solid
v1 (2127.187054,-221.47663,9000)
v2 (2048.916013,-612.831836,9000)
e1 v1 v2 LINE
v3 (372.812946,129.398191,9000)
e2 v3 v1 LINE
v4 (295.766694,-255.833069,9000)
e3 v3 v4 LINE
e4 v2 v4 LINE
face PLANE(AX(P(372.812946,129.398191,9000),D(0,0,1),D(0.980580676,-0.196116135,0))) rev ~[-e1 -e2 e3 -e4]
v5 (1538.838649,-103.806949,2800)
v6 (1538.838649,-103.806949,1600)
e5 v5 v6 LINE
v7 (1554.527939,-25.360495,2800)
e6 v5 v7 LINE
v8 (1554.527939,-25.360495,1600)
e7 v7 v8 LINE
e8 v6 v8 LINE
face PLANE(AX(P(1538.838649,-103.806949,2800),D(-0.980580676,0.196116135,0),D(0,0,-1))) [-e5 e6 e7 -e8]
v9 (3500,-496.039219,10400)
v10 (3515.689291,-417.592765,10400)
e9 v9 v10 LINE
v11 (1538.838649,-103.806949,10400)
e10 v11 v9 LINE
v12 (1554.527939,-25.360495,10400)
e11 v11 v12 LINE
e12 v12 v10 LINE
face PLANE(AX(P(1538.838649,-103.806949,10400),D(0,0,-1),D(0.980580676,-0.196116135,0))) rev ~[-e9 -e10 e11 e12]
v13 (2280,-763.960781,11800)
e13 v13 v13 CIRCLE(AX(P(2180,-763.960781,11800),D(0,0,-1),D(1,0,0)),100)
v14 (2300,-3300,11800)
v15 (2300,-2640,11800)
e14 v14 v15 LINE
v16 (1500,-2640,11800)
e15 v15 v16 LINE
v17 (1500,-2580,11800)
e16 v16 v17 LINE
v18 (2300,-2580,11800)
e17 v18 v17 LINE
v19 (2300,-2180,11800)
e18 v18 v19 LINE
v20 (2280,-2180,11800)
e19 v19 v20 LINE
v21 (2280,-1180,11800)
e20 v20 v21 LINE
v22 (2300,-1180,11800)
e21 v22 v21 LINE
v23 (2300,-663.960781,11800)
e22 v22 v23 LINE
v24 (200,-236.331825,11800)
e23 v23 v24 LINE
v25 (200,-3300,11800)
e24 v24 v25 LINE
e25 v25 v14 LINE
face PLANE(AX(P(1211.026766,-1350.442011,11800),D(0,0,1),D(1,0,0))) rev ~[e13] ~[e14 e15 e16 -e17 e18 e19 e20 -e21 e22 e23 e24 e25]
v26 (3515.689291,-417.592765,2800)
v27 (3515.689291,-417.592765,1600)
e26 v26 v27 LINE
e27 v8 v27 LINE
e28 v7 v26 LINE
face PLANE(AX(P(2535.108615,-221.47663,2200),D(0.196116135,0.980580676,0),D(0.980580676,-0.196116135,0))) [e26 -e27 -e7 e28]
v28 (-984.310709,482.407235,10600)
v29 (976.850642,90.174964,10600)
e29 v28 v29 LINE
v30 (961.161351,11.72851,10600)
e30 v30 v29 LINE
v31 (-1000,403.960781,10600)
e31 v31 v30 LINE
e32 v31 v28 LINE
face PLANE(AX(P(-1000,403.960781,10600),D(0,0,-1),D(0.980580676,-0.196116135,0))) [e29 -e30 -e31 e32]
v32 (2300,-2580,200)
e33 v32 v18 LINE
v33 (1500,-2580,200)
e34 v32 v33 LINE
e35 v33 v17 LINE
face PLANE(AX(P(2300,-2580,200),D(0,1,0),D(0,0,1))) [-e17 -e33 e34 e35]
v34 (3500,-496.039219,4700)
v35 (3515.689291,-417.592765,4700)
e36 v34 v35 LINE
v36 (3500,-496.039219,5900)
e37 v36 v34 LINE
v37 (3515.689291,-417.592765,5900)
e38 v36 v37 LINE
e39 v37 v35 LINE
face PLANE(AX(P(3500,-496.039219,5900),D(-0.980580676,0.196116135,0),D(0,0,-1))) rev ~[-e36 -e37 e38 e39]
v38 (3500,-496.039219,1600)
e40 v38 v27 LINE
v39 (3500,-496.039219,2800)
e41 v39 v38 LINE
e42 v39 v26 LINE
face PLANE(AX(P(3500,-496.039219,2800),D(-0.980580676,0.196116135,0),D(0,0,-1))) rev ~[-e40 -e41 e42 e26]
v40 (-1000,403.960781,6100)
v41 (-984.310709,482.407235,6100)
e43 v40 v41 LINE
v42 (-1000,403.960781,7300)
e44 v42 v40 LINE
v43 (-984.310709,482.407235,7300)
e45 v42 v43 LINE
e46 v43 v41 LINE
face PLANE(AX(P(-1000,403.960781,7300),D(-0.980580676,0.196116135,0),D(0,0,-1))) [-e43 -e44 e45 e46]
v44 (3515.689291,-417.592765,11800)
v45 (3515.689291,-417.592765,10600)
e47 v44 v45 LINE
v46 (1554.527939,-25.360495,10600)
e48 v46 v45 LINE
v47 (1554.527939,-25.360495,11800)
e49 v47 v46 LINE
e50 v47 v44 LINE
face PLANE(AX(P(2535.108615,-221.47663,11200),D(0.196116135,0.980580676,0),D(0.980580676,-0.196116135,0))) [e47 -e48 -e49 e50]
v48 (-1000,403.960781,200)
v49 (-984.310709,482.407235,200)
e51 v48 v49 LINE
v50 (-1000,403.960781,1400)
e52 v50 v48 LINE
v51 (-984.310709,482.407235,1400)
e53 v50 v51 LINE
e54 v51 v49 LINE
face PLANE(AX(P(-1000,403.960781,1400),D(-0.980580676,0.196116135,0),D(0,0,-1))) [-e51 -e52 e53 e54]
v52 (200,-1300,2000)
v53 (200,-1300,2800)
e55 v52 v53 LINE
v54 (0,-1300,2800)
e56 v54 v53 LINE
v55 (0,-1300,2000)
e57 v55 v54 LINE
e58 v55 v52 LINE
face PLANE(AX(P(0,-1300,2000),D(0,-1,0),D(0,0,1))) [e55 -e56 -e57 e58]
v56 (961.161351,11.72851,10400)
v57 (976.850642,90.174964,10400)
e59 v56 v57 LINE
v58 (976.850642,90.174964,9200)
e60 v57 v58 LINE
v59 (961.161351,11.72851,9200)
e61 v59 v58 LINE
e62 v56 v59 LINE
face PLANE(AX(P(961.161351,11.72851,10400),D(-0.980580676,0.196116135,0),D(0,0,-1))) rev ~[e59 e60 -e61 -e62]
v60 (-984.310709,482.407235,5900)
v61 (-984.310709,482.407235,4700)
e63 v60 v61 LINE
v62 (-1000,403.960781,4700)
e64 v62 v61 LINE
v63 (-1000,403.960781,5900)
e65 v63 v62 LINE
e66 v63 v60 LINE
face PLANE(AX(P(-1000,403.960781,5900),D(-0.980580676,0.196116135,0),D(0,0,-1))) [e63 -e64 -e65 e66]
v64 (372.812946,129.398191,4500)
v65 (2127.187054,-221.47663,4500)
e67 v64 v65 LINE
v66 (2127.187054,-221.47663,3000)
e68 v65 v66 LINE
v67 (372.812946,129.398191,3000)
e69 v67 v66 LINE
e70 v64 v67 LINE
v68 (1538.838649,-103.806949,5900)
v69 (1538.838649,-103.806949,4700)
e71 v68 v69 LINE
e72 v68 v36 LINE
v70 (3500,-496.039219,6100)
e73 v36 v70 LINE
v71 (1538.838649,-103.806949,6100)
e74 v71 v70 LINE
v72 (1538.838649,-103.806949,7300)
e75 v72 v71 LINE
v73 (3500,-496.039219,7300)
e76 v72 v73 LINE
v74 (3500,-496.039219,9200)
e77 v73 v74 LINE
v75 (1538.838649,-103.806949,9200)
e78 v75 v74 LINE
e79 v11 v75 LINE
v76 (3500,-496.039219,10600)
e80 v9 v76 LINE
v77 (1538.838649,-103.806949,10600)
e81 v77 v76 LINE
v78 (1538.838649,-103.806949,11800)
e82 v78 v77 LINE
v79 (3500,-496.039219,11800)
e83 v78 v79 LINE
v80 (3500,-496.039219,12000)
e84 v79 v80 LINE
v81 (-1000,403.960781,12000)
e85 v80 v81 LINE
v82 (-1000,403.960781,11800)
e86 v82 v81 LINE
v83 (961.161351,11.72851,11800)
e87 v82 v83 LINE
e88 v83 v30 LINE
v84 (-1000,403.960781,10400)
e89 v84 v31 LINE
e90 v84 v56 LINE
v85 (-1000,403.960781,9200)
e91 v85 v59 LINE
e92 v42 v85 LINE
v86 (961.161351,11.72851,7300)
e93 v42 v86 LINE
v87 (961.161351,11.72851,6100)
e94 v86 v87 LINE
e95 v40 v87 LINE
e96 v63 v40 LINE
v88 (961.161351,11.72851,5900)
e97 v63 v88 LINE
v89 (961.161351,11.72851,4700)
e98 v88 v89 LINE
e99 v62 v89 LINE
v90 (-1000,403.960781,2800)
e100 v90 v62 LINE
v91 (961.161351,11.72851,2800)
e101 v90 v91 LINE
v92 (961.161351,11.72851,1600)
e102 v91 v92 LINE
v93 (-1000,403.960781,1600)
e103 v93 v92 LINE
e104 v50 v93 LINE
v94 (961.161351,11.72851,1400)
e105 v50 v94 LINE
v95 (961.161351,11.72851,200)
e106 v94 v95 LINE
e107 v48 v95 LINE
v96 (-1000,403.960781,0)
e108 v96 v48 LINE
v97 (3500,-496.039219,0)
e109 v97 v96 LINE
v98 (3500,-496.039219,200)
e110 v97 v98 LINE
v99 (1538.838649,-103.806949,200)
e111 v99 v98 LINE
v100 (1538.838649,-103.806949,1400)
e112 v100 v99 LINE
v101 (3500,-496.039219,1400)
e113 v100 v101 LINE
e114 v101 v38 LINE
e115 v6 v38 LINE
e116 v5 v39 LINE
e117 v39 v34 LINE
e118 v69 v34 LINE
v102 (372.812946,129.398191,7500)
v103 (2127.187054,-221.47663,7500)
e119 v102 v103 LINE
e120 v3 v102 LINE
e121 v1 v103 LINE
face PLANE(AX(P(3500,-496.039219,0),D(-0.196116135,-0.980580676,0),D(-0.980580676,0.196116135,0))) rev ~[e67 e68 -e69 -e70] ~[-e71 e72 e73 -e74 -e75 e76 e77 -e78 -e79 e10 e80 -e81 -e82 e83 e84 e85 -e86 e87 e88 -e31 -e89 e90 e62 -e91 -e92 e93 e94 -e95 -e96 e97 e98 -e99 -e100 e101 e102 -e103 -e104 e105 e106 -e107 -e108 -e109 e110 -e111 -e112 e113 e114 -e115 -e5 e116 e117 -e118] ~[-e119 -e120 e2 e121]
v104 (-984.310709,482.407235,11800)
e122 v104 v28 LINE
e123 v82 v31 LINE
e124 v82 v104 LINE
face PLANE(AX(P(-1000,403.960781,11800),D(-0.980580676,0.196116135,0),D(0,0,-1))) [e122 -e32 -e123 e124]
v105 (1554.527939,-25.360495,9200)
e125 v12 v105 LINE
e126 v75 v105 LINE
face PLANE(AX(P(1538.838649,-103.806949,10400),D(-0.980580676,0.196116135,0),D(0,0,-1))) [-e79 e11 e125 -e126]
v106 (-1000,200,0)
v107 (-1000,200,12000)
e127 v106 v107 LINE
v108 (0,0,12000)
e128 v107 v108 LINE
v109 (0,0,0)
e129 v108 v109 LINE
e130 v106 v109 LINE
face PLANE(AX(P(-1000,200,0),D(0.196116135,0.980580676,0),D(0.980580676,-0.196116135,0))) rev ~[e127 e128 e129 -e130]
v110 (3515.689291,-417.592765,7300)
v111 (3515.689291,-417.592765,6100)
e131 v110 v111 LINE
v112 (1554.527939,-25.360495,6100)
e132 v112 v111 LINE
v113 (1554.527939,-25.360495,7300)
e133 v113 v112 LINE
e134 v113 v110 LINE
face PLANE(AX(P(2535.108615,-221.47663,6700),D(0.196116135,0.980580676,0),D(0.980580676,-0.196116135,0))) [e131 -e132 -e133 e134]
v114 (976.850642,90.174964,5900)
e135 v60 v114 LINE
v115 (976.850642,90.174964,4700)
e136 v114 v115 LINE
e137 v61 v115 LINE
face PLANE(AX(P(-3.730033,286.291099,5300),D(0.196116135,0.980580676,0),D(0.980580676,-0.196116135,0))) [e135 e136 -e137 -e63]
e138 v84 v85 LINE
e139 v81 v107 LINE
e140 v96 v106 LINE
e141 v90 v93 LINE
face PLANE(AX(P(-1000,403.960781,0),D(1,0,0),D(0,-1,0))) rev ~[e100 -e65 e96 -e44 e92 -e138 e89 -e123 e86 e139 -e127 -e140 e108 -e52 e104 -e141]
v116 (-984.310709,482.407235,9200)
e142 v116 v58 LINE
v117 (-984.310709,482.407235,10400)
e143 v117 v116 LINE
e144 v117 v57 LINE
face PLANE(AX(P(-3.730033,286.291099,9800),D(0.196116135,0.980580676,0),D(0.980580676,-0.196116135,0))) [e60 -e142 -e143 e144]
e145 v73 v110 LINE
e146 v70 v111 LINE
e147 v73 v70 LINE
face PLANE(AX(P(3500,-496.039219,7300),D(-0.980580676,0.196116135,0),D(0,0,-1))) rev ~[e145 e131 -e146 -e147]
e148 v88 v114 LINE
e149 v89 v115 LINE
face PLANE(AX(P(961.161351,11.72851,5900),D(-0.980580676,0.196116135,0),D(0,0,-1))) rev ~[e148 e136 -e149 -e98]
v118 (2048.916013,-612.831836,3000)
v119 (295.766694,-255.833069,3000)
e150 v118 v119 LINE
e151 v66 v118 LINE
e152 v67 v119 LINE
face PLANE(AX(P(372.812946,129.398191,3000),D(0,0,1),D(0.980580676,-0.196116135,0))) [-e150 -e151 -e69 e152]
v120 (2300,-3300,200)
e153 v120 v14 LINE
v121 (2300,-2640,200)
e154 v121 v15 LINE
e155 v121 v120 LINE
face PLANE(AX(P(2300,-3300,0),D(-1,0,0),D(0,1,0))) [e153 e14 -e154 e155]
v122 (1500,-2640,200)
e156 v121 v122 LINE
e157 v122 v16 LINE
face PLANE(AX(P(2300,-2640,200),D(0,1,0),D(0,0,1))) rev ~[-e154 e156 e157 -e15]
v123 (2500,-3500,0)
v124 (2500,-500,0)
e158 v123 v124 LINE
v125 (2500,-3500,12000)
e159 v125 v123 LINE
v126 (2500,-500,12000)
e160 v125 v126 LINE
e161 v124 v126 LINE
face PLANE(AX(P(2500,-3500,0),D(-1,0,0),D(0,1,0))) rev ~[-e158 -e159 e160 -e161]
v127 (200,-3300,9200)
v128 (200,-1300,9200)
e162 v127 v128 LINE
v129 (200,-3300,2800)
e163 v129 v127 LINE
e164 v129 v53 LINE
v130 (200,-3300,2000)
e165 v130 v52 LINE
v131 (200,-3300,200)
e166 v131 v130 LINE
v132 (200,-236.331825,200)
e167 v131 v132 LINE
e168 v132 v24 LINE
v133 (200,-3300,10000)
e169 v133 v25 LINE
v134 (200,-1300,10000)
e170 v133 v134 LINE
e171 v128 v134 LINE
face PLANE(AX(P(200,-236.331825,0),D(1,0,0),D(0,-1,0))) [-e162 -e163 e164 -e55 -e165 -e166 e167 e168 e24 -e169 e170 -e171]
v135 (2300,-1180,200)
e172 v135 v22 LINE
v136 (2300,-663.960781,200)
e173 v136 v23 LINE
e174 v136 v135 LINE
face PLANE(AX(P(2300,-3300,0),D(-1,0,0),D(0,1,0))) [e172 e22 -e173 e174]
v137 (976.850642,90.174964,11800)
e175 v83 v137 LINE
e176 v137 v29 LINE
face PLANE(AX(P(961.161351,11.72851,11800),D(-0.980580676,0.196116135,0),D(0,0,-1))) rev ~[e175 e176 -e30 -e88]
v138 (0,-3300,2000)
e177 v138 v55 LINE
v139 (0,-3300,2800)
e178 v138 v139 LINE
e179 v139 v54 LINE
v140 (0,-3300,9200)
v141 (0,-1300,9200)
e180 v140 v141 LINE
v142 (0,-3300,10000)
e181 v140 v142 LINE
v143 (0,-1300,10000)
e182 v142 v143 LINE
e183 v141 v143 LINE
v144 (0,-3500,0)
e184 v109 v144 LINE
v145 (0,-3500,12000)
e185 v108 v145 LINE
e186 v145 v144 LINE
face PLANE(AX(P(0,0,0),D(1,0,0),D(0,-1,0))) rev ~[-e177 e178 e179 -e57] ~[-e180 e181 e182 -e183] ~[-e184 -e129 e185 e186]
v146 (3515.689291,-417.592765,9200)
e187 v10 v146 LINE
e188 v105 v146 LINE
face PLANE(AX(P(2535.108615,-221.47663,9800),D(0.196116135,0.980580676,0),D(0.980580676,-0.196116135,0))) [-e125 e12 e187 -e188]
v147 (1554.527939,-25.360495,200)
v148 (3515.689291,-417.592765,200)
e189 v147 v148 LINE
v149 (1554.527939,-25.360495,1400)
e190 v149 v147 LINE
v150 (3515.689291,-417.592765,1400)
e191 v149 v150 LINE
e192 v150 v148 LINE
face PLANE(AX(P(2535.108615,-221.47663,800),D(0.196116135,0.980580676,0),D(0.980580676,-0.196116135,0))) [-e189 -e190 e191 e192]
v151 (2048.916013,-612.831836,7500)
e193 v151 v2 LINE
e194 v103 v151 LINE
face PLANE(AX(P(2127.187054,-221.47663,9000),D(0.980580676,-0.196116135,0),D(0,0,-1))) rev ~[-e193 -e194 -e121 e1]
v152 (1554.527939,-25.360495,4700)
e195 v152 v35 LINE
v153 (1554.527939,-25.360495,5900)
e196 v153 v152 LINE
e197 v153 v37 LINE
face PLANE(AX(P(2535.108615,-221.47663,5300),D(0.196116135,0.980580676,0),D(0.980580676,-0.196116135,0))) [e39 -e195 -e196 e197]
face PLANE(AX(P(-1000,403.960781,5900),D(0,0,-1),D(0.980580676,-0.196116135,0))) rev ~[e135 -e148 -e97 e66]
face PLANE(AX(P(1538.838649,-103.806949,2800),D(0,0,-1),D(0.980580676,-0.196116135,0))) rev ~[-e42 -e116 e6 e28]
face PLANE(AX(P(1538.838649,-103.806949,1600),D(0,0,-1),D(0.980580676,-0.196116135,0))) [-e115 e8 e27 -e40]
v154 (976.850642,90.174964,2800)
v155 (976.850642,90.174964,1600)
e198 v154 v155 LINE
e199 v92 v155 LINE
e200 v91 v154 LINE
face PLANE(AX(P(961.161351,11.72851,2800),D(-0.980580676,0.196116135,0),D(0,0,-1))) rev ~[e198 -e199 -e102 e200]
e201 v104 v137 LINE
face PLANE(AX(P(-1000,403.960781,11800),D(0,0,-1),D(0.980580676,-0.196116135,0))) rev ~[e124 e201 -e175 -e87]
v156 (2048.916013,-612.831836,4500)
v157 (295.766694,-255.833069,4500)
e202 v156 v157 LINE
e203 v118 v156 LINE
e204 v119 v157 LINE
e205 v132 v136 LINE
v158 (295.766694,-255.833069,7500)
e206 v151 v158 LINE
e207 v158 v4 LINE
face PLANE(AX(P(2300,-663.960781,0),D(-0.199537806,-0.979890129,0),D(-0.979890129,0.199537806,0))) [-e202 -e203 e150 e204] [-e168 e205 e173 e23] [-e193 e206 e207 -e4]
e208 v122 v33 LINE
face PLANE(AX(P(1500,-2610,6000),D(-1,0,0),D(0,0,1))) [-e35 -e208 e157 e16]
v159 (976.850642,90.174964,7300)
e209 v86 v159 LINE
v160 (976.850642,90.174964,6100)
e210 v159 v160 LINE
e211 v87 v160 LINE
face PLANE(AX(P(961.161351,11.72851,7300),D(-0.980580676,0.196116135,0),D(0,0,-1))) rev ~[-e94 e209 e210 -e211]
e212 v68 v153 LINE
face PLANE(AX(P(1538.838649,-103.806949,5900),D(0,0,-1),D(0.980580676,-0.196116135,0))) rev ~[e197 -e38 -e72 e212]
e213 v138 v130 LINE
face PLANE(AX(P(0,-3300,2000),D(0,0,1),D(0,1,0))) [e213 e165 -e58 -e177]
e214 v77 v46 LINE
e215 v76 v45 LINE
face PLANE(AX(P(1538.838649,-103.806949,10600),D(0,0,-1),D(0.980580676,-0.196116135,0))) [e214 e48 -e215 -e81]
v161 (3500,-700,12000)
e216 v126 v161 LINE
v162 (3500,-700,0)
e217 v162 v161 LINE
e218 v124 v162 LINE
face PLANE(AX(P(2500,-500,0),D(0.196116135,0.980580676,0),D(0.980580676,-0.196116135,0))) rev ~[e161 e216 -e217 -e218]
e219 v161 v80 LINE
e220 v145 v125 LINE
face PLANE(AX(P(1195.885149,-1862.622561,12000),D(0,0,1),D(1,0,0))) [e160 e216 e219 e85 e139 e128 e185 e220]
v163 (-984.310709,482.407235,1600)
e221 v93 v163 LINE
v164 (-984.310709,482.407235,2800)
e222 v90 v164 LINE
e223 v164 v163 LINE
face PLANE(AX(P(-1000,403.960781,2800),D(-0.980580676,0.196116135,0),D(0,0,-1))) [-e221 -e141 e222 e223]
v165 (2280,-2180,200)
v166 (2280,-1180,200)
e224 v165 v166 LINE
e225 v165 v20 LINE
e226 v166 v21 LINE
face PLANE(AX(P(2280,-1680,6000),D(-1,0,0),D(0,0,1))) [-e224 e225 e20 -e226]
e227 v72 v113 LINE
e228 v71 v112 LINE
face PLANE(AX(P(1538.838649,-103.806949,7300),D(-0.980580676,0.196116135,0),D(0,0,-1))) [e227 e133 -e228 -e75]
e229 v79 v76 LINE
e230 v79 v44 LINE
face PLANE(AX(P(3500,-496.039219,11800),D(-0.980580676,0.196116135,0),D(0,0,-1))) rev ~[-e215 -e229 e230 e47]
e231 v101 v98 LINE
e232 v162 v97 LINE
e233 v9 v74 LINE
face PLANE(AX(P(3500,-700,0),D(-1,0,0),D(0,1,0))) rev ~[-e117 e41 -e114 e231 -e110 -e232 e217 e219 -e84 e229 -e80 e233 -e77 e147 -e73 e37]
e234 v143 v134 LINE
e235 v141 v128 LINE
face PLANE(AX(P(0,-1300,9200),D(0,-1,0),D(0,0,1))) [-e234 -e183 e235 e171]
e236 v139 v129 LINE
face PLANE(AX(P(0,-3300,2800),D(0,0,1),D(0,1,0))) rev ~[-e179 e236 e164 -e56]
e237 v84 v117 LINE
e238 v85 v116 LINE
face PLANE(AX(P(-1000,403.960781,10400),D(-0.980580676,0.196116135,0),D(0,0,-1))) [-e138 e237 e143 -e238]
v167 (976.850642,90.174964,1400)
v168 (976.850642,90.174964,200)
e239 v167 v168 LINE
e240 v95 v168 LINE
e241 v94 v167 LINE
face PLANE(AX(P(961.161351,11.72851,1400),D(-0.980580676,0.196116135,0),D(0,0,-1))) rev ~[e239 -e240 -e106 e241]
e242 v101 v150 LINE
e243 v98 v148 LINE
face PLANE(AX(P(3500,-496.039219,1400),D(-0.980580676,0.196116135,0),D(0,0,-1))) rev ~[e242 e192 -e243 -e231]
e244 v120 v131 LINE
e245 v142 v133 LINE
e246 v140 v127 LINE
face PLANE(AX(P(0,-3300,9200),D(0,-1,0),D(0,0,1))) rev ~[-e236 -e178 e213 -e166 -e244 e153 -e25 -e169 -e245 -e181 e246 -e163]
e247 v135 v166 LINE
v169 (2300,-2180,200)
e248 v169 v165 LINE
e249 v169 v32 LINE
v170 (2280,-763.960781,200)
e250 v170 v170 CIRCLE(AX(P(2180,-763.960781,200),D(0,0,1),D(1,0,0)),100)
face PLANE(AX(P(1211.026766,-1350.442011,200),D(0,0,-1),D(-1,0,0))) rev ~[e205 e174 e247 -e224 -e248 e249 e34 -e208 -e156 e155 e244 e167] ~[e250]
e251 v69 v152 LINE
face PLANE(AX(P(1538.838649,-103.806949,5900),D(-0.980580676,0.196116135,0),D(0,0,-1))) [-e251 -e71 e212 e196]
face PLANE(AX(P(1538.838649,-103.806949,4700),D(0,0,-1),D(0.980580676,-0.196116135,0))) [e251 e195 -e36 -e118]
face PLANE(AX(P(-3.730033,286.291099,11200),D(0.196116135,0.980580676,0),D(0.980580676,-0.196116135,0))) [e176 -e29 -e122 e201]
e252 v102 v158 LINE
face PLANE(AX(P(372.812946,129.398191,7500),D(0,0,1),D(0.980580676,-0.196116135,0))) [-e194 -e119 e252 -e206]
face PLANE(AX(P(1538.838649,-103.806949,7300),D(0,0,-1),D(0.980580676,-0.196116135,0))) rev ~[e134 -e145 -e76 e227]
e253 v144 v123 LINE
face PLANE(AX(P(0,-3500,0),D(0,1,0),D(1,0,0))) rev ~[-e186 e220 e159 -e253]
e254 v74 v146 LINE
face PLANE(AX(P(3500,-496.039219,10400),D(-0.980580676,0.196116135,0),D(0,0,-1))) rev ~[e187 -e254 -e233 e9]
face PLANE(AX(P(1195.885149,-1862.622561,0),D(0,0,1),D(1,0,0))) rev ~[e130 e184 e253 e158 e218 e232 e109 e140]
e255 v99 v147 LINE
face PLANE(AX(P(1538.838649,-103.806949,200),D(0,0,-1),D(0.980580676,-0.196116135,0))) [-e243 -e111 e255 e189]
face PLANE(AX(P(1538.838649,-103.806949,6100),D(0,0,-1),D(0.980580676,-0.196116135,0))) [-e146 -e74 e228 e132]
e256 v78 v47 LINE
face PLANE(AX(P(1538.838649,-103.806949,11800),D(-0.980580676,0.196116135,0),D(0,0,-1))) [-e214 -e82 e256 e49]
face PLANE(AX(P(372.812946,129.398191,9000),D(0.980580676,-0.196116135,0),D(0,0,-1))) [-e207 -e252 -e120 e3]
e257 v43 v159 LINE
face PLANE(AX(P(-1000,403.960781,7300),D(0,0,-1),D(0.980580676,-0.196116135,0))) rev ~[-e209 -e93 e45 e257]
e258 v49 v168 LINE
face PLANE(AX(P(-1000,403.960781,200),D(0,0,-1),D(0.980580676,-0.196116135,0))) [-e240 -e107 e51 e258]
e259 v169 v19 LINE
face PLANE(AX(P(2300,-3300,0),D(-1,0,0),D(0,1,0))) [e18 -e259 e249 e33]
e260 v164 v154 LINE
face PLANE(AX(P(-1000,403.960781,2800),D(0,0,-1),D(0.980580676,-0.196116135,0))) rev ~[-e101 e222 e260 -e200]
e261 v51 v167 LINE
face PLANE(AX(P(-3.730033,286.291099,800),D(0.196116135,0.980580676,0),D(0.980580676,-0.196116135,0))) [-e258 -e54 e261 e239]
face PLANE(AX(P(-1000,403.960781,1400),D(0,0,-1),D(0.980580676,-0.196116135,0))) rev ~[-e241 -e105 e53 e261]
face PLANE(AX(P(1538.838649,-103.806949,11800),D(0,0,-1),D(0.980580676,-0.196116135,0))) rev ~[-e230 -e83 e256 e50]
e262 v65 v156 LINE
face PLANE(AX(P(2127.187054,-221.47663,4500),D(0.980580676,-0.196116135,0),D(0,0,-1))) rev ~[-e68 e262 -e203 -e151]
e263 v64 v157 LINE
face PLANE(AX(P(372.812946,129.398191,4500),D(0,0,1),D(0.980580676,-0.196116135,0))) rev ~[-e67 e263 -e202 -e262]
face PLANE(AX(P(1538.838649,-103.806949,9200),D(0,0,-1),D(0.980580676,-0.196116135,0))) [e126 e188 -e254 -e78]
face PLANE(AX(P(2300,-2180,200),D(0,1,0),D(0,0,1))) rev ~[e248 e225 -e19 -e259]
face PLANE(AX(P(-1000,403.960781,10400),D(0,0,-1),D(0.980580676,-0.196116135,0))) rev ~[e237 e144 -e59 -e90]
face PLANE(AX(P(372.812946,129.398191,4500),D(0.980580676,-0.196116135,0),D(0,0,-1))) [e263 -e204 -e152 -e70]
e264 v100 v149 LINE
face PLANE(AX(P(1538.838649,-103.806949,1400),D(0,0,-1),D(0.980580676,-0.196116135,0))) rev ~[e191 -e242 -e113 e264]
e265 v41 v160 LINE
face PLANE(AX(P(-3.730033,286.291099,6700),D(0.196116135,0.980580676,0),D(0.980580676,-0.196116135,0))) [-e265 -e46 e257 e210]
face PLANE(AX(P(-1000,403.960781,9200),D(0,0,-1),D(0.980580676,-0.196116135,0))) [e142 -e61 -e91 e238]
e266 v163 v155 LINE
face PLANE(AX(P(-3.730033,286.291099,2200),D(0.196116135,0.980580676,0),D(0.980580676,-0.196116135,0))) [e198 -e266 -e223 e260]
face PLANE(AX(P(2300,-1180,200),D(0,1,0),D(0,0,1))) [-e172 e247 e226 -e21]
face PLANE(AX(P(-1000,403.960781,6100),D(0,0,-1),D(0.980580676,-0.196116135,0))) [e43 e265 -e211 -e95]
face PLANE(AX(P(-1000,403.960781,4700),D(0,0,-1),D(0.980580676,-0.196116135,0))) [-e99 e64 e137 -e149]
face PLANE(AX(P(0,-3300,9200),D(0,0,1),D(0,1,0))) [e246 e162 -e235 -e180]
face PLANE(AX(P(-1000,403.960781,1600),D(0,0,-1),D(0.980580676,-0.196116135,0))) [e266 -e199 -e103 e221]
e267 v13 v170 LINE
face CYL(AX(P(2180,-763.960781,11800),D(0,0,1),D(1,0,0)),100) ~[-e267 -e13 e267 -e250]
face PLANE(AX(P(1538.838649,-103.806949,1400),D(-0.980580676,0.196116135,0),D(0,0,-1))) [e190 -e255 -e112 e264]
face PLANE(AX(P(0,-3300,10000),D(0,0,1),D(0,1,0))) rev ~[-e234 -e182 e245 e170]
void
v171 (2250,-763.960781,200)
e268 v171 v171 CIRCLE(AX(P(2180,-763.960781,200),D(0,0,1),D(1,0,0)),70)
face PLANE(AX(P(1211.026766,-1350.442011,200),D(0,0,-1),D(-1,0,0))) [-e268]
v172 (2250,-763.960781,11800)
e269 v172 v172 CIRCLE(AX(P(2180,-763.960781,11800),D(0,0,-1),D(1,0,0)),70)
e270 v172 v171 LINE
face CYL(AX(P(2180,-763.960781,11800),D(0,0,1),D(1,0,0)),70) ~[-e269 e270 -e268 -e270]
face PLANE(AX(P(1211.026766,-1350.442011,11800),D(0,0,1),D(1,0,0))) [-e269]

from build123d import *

# Parameters (mm, degrees)
BOSS_EXTRUDE1_DEPTH = 12000
SKETCH2_W           = 2000
SKETCH2_H           = 1200
BOSS_EXTRUDE2_DEPTH = 80
SKETCH3_W           = 1789.117562234
SKETCH3_H           = 1500
CUT_EXTRUDE1_DEPTH  = 400
BOSS_EXTRUDE3_DEPTH = 200
BOSS_EXTRUDE4_DEPTH = 200
SKETCH6_W           = 800
SKETCH6_H           = 2000
CUT_EXTRUDE2_DEPTH  = 200
SKETCH7_W           = 11600
SKETCH7_H           = 60
BOSS_EXTRUDE5_DEPTH = 800
SKETCH8_R           = 100
SKETCH8_R_2         = 70
BOSS_EXTRUDE7_DEPTH = 11721
SKETCH9_W           = 11600
SKETCH9_H           = 1000
BOSS_EXTRUDE8_DEPTH = 20


with BuildPart() as part:
    # Sketch1 → Boss-Extrude1 (new body)
    with BuildSketch(Plane.XY):
        Polygon((2500, -3500), (2500, -500), (0, 0), (0, -3500), align=None)
        Polygon((2300, -663.960780544), (200, -236.33182537), (200, -3300), (2300, -3300), align=None, mode=Mode.SUBTRACT)
        Polygon((-1000, 200), (0, 0), (2500, -500), (3500, -700), (3500, -496.039219456), (-1000, 403.960780544), align=None)
    extrude(amount=BOSS_EXTRUDE1_DEPTH)

    # Sketch2 → Boss-Extrude2 (add)
    with BuildSketch(Plane(origin=(39.223227028, 196.116135138, 0), x_dir=(0.9805806756909202, -0.19611613513818382, 0), z_dir=(0.19611613513818382, 0.9805806756909203, 0))):
        with Locations((-59.803902719, -11200)):
            Rectangle(SKETCH2_W, SKETCH2_H)
        with Locations((2529.313659515, -11200)):
            Rectangle(SKETCH2_W, SKETCH2_H)
        with Locations((-59.803902719, -9800)):
            Rectangle(SKETCH2_W, SKETCH2_H)
        with Locations((2529.313659515, -9800)):
            Rectangle(SKETCH2_W, SKETCH2_H)
        with Locations((-59.803902719, -6700)):
            Rectangle(SKETCH2_W, SKETCH2_H)
        with Locations((2529.313659515, -6700)):
            Rectangle(SKETCH2_W, SKETCH2_H)
        with Locations((-59.803902719, -800)):
            Rectangle(SKETCH2_W, SKETCH2_H)
        with Locations((2529.313659515, -800)):
            Rectangle(SKETCH2_W, SKETCH2_H)
        with Locations((-59.803902719, -2200)):
            Rectangle(SKETCH2_W, SKETCH2_H)
        with Locations((-59.803902719, -5300)):
            Rectangle(SKETCH2_W, SKETCH2_H)
        with Locations((2529.313659515, -2200)):
            Rectangle(SKETCH2_W, SKETCH2_H)
        with Locations((2529.313659515, -5300)):
            Rectangle(SKETCH2_W, SKETCH2_H)
    extrude(amount=BOSS_EXTRUDE2_DEPTH)

    # Sketch3 → Cut-Extrude1 (cut)
    with BuildSketch(Plane(origin=(39.223227028, 196.116135138, 0), x_dir=(0.9805806756909202, -0.19611613513818382, 0), z_dir=(0.19611613513818382, 0.9805806756909203, 0))):
        with Locations((1234.754878398, -8250)):
            Rectangle(SKETCH3_W, SKETCH3_H)
        with Locations((1234.754878398, -3750)):
            Rectangle(SKETCH3_W, SKETCH3_H)
    extrude(amount=-CUT_EXTRUDE1_DEPTH, mode=Mode.SUBTRACT)

    # Sketch4 → Boss-Extrude3 (add)
    with BuildSketch(Plane.XY.offset(12000)):
        Polygon((2500, -3500), (2500, -500), (3500, -700), (3500, -496.039219456), (-1000, 403.960780544), (-1000, 200), (0, 0), (0, -3500), align=None)
    extrude(amount=-BOSS_EXTRUDE3_DEPTH)

    # Sketch5 → Boss-Extrude4 (add)
    with BuildSketch(Plane(origin=(0, 0, 0), x_dir=(-1, 0, 0), z_dir=(0, 0, -1))):
        Polygon((-2500, -500), (-2500, -3500), (0, -3500), (0, 0), (1000, 200), (1000, 403.960780544), (-3500, -496.039219456), (-3500, -700), align=None)
    extrude(amount=-BOSS_EXTRUDE4_DEPTH)

    # Sketch6 → Cut-Extrude2 (cut)
    with BuildSketch(Plane.ZY):
        with Locations((2400, -2300)):
            Rectangle(SKETCH6_W, SKETCH6_H)
        with Locations((9600, -2300)):
            Rectangle(SKETCH6_W, SKETCH6_H)
    extrude(amount=-CUT_EXTRUDE2_DEPTH, mode=Mode.SUBTRACT)

    # Sketch7 → Boss-Extrude5 (add)
    with BuildSketch(Plane.ZY.offset(-2300)):
        with Locations((6000, -2610)):
            Rectangle(SKETCH7_W, SKETCH7_H)
    extrude(amount=BOSS_EXTRUDE5_DEPTH)

    # Sketch8 → Boss-Extrude7 (add)
    with BuildSketch(Plane(origin=(0, 0, 11800), x_dir=(-1, 0, 0), z_dir=(0, 0, -1))):
        with Locations(Location((-2180, -763.960780544, 0), (0, 0, 180))):
            Circle(SKETCH8_R)
        with Locations(Location((-2180, -763.960780544, 0), (0, 0, 180))):
            Circle(SKETCH8_R_2, mode=Mode.SUBTRACT)
    extrude(amount=BOSS_EXTRUDE7_DEPTH)

    # Sketch9 → Boss-Extrude8 (add)
    with BuildSketch(Plane.ZY.offset(-2300)):
        with Locations((6000, -1680)):
            Rectangle(SKETCH9_W, SKETCH9_H)
    extrude(amount=BOSS_EXTRUDE8_DEPTH)


solid = part.part
